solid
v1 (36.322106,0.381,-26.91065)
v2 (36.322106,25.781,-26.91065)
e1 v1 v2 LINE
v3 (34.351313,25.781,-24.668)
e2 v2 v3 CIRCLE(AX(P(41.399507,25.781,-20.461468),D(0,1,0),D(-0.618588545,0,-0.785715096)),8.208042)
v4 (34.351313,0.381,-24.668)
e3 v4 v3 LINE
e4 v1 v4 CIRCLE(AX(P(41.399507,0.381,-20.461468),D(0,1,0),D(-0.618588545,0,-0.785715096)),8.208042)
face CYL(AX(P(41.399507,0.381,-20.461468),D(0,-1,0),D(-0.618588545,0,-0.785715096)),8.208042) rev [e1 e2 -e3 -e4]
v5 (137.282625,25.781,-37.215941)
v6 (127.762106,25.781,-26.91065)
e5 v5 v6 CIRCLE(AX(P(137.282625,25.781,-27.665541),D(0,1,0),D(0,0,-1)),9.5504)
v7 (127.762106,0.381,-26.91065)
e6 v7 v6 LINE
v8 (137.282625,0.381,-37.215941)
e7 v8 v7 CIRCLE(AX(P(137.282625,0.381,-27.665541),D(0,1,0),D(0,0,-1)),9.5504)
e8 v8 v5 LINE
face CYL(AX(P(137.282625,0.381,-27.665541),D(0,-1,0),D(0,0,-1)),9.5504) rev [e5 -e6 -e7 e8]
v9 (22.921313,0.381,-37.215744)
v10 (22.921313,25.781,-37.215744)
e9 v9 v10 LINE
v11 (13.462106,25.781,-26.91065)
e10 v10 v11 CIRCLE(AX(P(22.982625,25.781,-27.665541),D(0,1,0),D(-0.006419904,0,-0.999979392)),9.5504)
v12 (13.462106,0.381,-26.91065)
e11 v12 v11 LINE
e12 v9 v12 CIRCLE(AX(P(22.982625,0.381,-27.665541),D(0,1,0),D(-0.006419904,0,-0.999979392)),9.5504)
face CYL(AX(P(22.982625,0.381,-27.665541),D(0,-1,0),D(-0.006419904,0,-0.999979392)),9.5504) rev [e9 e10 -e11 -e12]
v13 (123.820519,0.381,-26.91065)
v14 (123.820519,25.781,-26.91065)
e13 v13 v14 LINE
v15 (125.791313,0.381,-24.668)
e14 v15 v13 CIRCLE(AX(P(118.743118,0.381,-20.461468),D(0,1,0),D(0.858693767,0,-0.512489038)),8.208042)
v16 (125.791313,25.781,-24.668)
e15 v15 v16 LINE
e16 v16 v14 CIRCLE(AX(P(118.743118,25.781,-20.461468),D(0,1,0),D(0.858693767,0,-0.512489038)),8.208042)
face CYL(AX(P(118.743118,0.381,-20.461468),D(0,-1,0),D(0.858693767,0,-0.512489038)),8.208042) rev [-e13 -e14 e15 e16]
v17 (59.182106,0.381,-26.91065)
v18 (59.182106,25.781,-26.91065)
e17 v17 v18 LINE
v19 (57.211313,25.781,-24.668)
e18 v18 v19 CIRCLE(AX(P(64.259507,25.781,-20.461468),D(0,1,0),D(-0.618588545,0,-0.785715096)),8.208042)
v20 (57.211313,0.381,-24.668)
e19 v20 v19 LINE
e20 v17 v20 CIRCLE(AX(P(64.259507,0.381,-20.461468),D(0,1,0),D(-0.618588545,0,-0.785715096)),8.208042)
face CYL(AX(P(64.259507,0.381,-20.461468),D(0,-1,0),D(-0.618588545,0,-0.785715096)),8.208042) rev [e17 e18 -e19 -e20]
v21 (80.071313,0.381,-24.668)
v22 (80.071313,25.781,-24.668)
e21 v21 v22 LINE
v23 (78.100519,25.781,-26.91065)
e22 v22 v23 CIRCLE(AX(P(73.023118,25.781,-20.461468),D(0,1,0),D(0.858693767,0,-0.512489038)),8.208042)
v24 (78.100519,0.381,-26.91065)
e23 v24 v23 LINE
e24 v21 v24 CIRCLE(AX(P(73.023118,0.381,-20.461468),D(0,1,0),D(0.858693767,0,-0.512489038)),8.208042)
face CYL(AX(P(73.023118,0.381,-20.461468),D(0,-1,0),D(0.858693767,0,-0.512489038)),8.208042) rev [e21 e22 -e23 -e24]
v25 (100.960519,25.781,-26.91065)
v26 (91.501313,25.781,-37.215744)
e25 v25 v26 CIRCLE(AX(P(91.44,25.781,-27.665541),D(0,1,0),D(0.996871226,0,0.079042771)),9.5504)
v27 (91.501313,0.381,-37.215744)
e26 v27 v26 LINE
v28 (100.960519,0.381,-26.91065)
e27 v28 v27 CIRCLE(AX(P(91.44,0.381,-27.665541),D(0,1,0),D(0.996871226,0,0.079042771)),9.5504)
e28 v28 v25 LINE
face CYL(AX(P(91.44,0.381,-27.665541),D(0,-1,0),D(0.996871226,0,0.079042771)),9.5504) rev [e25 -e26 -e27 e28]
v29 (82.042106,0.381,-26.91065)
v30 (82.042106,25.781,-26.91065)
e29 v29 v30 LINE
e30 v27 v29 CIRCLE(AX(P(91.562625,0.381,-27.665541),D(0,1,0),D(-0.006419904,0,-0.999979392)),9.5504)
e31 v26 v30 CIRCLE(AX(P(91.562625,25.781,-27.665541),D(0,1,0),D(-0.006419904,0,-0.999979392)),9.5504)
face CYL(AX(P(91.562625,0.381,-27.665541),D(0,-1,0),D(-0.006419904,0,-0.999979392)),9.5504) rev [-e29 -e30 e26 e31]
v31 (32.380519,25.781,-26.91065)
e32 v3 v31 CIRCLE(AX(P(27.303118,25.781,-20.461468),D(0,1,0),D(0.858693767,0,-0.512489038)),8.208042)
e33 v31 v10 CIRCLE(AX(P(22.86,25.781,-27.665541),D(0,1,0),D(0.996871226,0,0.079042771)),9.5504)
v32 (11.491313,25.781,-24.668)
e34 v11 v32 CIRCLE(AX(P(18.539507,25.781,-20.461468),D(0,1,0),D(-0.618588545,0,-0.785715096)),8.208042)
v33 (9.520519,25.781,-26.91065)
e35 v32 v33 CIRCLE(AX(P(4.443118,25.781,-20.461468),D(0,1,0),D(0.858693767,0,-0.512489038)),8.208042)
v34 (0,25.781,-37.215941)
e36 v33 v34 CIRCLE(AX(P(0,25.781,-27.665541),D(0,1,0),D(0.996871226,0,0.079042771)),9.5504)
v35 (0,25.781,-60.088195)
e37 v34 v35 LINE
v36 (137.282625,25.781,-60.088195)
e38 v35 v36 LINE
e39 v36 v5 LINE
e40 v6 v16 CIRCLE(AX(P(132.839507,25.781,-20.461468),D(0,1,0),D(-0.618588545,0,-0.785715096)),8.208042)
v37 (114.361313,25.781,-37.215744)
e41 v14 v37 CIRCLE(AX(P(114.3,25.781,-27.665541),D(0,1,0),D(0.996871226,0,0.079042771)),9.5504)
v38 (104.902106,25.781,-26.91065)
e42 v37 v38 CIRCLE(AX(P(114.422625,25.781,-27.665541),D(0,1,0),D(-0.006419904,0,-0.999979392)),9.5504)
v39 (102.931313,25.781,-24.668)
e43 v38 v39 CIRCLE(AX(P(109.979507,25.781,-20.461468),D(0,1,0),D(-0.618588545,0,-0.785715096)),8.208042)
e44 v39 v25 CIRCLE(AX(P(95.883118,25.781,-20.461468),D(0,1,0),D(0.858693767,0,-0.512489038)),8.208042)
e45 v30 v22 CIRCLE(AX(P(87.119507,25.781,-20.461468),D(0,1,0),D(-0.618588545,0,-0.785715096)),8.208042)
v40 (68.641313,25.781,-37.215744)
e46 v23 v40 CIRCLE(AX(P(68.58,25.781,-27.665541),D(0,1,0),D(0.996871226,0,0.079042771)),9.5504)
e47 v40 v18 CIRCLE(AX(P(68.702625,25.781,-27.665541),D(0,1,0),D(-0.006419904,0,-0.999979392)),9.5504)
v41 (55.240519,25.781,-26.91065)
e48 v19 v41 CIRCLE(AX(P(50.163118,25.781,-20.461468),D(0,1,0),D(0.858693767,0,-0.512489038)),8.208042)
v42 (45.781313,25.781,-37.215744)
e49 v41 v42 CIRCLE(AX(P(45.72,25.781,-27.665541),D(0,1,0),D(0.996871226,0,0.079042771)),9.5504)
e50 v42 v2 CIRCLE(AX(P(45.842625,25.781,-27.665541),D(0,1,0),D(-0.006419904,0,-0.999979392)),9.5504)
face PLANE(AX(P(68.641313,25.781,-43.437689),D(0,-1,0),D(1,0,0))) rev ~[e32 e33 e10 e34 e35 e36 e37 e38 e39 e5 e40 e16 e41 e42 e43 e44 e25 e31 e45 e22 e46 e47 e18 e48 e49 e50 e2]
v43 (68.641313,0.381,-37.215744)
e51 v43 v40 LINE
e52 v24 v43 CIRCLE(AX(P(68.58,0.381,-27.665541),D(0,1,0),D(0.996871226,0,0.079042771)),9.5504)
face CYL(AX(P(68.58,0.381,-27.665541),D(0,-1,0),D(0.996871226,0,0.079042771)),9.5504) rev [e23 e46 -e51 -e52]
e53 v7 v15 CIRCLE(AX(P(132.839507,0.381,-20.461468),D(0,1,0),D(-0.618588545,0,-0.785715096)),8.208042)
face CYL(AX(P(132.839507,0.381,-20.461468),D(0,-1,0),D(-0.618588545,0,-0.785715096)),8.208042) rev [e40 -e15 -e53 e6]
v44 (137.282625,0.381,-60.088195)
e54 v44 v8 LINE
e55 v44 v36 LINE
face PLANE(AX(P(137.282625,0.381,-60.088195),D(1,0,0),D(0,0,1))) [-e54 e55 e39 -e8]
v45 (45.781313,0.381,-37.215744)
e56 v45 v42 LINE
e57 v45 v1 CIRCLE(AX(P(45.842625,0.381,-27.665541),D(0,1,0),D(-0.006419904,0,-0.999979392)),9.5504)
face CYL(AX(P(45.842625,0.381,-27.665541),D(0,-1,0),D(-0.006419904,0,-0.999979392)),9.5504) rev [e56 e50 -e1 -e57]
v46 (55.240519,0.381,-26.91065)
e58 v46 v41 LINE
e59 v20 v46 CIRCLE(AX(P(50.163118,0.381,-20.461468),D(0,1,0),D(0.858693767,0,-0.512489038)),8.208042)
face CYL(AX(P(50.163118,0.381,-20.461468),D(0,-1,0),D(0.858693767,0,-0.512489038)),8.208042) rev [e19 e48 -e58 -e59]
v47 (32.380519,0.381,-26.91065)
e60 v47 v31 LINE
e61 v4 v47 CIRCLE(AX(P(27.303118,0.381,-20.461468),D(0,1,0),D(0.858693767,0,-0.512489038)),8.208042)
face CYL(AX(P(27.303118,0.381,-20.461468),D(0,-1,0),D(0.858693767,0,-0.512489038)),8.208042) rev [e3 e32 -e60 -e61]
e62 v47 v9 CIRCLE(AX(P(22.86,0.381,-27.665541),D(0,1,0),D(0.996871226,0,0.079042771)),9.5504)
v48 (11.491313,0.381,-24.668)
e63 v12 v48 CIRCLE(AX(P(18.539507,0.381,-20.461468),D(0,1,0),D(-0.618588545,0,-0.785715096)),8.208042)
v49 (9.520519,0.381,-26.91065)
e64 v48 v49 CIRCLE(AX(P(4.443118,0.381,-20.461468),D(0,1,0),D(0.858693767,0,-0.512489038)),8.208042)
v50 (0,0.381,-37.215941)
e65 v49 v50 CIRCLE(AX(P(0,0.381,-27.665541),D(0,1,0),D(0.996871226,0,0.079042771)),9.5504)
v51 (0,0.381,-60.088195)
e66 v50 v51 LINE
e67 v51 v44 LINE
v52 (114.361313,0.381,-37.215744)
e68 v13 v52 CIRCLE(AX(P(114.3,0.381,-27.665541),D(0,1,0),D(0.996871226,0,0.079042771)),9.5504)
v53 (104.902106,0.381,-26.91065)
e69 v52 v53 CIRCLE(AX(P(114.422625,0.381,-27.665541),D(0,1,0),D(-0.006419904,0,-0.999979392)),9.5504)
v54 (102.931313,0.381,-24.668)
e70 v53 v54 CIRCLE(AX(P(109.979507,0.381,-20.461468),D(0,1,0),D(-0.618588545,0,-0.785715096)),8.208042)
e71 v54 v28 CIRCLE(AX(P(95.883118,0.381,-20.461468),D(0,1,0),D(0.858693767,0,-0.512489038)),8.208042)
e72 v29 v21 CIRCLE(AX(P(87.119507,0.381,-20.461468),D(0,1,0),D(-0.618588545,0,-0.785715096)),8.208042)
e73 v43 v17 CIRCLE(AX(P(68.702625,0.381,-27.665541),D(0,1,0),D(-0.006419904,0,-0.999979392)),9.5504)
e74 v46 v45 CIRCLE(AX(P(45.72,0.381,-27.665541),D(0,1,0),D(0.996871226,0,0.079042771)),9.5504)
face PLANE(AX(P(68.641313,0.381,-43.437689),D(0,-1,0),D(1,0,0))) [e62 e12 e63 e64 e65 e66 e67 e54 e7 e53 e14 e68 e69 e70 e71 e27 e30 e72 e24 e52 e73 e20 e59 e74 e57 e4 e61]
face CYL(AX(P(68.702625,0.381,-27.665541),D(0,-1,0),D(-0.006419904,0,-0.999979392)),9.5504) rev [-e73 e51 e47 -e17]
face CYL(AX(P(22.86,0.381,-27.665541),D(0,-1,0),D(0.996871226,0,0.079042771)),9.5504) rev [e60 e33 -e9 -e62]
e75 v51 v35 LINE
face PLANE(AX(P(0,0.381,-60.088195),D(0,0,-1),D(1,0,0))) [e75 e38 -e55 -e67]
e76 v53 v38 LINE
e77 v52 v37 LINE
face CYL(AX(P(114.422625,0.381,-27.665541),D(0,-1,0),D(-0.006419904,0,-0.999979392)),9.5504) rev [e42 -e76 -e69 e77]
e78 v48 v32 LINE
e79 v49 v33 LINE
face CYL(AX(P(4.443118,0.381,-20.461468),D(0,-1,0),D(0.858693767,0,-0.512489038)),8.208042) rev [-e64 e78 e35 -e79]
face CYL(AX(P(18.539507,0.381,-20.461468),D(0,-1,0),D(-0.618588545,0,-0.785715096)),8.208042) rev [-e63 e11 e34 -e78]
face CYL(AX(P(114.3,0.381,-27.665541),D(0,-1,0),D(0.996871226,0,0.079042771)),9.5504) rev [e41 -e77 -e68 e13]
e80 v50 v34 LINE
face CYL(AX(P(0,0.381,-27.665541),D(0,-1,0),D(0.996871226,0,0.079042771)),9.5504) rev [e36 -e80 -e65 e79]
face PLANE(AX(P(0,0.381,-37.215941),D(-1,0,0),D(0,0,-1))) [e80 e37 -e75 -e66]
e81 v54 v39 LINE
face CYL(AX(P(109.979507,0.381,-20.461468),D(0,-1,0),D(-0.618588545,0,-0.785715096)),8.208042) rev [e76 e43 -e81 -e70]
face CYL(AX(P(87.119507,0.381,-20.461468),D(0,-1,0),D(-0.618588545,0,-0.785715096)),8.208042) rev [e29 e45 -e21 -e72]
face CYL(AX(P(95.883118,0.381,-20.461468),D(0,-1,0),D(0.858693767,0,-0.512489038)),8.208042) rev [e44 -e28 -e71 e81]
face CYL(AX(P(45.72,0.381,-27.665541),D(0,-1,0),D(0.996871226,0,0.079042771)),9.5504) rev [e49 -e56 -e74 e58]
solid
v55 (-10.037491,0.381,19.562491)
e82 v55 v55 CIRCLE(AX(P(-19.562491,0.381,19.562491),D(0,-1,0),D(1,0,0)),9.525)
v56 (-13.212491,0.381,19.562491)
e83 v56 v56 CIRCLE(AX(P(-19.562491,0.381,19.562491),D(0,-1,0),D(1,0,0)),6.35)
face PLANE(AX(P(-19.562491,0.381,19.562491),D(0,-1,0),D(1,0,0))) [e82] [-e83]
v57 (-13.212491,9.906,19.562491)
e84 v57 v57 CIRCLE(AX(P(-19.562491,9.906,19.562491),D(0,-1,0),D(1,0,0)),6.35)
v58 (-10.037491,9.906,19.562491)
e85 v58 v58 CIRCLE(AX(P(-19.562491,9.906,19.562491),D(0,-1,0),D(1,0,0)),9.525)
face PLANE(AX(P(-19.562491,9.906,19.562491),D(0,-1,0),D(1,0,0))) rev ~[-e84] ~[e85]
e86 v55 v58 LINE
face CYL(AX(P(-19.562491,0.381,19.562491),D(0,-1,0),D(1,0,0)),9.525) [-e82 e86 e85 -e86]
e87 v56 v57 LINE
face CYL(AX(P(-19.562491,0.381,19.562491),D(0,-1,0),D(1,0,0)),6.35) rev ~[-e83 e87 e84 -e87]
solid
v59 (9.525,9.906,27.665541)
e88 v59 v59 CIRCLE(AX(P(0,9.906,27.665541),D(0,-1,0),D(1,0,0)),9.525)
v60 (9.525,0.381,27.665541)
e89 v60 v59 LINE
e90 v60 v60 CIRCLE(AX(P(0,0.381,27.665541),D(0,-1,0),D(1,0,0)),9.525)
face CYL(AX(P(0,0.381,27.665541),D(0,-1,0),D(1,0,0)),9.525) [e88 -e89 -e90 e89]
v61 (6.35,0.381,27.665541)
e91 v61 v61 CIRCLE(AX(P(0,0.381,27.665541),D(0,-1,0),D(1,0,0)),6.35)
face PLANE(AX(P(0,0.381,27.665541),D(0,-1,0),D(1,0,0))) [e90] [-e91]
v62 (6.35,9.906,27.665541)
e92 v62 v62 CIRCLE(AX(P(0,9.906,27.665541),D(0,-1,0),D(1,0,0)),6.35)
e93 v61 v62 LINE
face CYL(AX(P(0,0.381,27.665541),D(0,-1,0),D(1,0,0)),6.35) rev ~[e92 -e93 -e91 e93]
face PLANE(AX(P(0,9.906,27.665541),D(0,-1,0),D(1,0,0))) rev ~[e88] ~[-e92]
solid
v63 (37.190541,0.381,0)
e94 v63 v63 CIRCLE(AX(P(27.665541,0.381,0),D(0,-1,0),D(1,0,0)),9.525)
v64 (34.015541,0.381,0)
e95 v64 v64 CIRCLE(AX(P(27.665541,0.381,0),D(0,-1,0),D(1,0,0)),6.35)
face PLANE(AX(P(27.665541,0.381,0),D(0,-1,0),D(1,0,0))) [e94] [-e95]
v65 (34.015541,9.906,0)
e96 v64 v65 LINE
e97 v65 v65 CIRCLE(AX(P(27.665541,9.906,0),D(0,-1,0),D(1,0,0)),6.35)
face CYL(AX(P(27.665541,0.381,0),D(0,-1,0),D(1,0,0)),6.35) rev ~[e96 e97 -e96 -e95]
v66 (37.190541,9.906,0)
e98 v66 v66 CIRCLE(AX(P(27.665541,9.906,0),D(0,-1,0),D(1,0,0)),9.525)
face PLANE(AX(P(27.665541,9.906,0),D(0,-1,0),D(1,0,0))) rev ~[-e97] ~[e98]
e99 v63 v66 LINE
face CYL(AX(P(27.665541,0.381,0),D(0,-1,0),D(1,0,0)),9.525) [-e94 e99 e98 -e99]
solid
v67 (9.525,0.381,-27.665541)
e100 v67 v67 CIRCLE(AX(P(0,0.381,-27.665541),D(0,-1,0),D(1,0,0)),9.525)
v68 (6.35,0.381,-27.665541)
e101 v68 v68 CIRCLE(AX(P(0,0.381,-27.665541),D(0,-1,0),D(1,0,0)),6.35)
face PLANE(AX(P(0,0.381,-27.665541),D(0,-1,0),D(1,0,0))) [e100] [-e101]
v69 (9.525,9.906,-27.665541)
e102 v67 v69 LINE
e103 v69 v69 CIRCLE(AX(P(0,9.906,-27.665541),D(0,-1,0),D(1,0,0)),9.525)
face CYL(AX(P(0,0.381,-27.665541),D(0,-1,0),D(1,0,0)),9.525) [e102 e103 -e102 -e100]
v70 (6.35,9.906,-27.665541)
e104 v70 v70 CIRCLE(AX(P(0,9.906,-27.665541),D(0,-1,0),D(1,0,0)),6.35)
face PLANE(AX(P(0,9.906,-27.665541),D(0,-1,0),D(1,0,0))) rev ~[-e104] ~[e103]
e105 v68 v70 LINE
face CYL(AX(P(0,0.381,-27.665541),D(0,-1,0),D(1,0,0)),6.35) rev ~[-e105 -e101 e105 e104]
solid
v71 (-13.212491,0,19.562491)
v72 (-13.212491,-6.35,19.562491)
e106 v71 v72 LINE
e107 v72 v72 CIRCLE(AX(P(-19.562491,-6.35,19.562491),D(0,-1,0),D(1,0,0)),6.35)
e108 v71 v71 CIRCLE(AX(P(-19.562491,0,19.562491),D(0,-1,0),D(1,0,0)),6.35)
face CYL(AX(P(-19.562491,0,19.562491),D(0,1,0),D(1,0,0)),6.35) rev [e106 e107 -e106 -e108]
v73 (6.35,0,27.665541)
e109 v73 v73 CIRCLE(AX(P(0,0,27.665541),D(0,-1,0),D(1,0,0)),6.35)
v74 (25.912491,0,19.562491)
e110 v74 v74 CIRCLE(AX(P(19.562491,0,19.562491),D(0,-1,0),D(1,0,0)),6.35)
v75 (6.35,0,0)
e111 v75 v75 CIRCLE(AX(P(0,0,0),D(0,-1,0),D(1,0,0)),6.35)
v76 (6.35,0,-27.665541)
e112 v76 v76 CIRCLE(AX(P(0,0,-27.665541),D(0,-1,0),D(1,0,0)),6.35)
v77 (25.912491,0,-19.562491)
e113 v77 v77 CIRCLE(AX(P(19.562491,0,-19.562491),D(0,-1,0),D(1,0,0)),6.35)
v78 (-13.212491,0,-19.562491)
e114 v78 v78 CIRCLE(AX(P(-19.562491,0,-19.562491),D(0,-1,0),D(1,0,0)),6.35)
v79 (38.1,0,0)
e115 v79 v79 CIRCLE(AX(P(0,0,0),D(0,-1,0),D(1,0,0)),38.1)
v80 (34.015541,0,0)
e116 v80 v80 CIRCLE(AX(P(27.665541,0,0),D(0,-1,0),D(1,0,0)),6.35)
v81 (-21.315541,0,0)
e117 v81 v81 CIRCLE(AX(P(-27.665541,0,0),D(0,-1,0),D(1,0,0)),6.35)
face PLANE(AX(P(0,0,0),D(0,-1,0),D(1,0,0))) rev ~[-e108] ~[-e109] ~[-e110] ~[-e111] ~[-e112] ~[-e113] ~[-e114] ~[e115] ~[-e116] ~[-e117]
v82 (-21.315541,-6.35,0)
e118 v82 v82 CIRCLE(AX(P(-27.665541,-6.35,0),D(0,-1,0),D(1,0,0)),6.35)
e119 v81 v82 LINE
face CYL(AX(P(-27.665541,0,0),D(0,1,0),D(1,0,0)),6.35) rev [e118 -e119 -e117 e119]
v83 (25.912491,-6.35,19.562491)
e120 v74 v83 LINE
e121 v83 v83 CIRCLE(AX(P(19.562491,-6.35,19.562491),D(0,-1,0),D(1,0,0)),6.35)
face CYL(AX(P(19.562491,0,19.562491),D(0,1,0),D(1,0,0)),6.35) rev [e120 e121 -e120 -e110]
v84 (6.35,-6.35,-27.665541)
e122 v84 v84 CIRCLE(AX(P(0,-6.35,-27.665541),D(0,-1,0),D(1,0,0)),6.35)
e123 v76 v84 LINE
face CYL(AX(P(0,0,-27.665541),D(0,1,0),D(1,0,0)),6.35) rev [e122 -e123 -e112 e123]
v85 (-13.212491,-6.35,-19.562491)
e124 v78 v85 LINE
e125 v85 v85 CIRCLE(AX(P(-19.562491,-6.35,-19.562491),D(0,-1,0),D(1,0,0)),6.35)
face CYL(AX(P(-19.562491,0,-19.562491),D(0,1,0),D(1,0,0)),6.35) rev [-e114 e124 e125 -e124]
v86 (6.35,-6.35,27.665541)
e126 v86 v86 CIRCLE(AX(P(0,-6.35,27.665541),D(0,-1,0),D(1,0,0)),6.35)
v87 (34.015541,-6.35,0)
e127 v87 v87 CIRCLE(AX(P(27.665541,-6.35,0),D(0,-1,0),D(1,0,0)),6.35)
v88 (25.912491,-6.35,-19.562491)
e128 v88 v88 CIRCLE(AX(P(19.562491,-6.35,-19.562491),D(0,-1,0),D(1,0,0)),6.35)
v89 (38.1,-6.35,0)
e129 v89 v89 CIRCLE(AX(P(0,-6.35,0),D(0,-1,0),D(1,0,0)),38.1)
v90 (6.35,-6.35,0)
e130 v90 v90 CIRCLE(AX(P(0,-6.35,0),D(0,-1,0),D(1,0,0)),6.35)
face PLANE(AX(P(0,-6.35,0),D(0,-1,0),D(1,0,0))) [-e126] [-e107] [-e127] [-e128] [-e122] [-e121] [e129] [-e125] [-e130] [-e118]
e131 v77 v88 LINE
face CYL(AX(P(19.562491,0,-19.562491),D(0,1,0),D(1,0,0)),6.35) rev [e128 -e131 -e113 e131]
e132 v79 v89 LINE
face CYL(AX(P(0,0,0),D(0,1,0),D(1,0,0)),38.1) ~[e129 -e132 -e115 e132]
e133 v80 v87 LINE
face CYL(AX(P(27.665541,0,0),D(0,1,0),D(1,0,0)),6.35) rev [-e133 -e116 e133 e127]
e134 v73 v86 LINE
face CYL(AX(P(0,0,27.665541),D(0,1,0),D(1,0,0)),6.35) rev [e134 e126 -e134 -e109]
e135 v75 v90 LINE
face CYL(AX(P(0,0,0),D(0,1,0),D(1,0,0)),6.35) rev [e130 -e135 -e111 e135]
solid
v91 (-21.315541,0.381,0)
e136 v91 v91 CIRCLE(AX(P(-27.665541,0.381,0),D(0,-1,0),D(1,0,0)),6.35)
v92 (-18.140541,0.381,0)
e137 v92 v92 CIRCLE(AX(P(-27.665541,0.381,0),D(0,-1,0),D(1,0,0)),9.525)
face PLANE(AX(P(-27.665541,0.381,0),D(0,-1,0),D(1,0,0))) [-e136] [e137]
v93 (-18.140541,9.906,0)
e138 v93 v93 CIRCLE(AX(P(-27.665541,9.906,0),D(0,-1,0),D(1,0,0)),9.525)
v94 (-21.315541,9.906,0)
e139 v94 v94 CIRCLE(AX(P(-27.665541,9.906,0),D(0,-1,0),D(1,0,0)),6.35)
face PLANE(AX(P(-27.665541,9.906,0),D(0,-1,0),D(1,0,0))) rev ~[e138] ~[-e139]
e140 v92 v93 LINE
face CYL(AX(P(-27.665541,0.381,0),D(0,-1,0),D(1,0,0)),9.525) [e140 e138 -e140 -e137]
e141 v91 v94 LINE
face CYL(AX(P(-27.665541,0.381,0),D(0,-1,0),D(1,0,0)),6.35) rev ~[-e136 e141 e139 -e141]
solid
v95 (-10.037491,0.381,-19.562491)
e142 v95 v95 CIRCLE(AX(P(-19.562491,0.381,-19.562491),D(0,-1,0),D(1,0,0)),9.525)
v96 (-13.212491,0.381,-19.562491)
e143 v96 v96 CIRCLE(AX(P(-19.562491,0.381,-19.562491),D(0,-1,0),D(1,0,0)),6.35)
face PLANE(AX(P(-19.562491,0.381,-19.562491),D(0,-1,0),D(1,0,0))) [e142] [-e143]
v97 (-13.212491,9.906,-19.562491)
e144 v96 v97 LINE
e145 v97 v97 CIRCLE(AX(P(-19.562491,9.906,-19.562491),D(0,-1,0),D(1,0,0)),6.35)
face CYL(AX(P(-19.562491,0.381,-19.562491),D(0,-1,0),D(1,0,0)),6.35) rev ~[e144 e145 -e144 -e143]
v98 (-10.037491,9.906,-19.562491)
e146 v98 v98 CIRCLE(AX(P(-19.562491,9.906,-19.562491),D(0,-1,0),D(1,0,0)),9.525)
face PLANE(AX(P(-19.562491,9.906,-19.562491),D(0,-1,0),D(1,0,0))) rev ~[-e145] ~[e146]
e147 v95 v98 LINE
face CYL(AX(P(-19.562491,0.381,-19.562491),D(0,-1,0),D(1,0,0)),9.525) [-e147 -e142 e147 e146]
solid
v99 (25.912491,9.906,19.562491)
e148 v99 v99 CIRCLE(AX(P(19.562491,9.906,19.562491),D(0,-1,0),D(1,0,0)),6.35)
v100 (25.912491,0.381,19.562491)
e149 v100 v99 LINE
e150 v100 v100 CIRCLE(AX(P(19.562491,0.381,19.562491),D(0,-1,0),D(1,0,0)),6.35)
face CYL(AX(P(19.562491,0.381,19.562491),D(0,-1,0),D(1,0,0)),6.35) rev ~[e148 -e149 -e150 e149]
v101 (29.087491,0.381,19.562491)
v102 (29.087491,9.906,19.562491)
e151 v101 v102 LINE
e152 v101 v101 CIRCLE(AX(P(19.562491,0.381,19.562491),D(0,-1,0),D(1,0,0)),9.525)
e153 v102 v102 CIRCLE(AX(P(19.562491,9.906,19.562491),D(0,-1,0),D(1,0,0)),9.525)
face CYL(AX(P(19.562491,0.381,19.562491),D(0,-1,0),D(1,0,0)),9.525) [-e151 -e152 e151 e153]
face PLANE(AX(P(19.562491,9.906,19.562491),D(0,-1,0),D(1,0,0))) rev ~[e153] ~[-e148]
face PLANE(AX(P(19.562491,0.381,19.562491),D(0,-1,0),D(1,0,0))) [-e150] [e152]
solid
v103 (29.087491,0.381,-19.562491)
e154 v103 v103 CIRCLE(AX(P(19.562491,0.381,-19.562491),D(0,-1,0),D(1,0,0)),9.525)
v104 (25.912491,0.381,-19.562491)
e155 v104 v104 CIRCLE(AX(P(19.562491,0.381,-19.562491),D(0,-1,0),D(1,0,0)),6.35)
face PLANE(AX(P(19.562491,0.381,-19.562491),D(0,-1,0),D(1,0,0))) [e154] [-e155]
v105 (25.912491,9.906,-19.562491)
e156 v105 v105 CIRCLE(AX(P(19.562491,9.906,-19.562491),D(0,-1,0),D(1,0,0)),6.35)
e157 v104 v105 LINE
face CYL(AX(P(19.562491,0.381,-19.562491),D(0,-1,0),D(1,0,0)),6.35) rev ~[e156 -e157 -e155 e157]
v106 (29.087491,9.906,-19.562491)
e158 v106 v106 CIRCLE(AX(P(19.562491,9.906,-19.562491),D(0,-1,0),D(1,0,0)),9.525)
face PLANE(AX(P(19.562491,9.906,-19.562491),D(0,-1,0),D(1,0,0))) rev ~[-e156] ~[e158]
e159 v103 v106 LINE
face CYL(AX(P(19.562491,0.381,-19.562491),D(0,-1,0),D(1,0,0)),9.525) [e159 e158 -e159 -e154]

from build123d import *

# Parameters (mm, degrees)
F0_R     = 38.1
F0_R_2   = 6.35
F1_DEPTH = 6.35
F3_R     = 9.525
F3_R_2   = 6.35
F4_DEPTH = 9.525
F6_DEPTH = 25.4


with BuildPart() as f1:
    # F0 (on Front) → F1 (new body)
    with BuildSketch(Plane.XZ):
        Circle(F0_R)
        with Locations((-19.5624913465, -19.5624913465)):
            Circle(F0_R_2, mode=Mode.SUBTRACT)
        with Locations((0, -27.665540576)):
            Circle(F0_R_2, mode=Mode.SUBTRACT)
        with Locations((19.5624913465, -19.5624913465)):
            Circle(F0_R_2, mode=Mode.SUBTRACT)
        with Locations((-27.665540576, 0)):
            Circle(F0_R_2, mode=Mode.SUBTRACT)
        with Locations((-19.5624913465, 19.5624913465)):
            Circle(F0_R_2, mode=Mode.SUBTRACT)
        Circle(F0_R_2, mode=Mode.SUBTRACT)
        with Locations((27.665540576, 0)):
            Circle(F0_R_2, mode=Mode.SUBTRACT)
        with Locations((0, 27.665540576)):
            Circle(F0_R_2, mode=Mode.SUBTRACT)
        with Locations((19.5624913465, 19.5624913465)):
            Circle(F0_R_2, mode=Mode.SUBTRACT)
    extrude(amount=F1_DEPTH)


with BuildPart() as f4:
    # F3 (on offset) → F4 (new body)
    with BuildSketch(Plane.XZ.offset(-0.381)):
        with Locations((0, -27.665540576)):
            Circle(F3_R)
        with Locations((0, -27.665540576)):
            Circle(F3_R_2, mode=Mode.SUBTRACT)
    extrude(amount=-F4_DEPTH)


with BuildPart() as f4b:
    # F3 (on offset) → F4, piece 2 (new body)
    with BuildSketch(Plane.XZ.offset(-0.381)):
        with Locations((19.5624913465, -19.5624913465)):
            Circle(F3_R)
        with Locations((19.5624913465, -19.5624913465)):
            Circle(F3_R_2, mode=Mode.SUBTRACT)
    extrude(amount=-F4_DEPTH)


with BuildPart() as f4c:
    # F3 (on offset) → F4, piece 3 (new body)
    with BuildSketch(Plane.XZ.offset(-0.381)):
        with Locations((27.665540576, 0)):
            Circle(F3_R)
        with Locations((27.665540576, 0)):
            Circle(F3_R_2, mode=Mode.SUBTRACT)
    extrude(amount=-F4_DEPTH)


with BuildPart() as f4d:
    # F3 (on offset) → F4, piece 4 (new body)
    with BuildSketch(Plane.XZ.offset(-0.381)):
        with Locations((19.5624913465, 19.5624913465)):
            Circle(F3_R)
        with Locations((19.5624913465, 19.5624913465)):
            Circle(F3_R_2, mode=Mode.SUBTRACT)
    extrude(amount=-F4_DEPTH)


with BuildPart() as f4e:
    # F3 (on offset) → F4, piece 5 (new body)
    with BuildSketch(Plane.XZ.offset(-0.381)):
        with Locations((0, 27.665540576)):
            Circle(F3_R)
        with Locations((0, 27.665540576)):
            Circle(F3_R_2, mode=Mode.SUBTRACT)
    extrude(amount=-F4_DEPTH)


with BuildPart() as f4f:
    # F3 (on offset) → F4, piece 6 (new body)
    with BuildSketch(Plane.XZ.offset(-0.381)):
        with Locations((-19.5624913465, 19.5624913465)):
            Circle(F3_R)
        with Locations((-19.5624913465, 19.5624913465)):
            Circle(F3_R_2, mode=Mode.SUBTRACT)
    extrude(amount=-F4_DEPTH)


with BuildPart() as f4g:
    # F3 (on offset) → F4, piece 7 (new body)
    with BuildSketch(Plane.XZ.offset(-0.381)):
        with Locations((-27.665540576, 0)):
            Circle(F3_R)
        with Locations((-27.665540576, 0)):
            Circle(F3_R_2, mode=Mode.SUBTRACT)
    extrude(amount=-F4_DEPTH)


with BuildPart() as f4h:
    # F3 (on offset) → F4, piece 8 (new body)
    with BuildSketch(Plane.XZ.offset(-0.381)):
        with Locations((-19.5624913465, -19.5624913465)):
            Circle(F3_R)
        with Locations((-19.5624913465, -19.5624913465)):
            Circle(F3_R_2, mode=Mode.SUBTRACT)
    extrude(amount=-F4_DEPTH)


with BuildPart() as f6:
    # F5 (on offset) → F6 (new body)
    with BuildSketch(Plane.XZ.offset(-0.381)):
        with BuildLine():
            ThreePointArc((22.9213126466, -37.2157437633), (15.9468871662, -34.1237546608), (13.4621063405, -26.9106504995))
            ThreePointArc((13.4621063405, -26.9106504995), (12.3738858329, -25.8796842874), (11.4913126467, -24.6679996029))
            ThreePointArc((11.4913126467, -24.6679996029), (10.6087394605, -25.8796842874), (9.5205189529, -26.9106504995))
            ThreePointArc((9.5205189529, -26.9106504995), (7.0149712168, -34.1463058847), (0, -37.215940576))
            Line((0, -37.215940576), (0, -60.0881949067))
            Line((0, -60.0881949067), (137.2826252934, -60.0881949067))
            Line((137.2826252934, -60.0881949067), (137.2826252934, -37.215940576))
            ThreePointArc((137.2826252934, -37.215940576), (130.2676540765, -34.1463058847), (127.7621063405, -26.9106504995))
            ThreePointArc((127.7621063405, -26.9106504995), (126.6738858329, -25.8796842874), (125.7913126467, -24.6679996029))
            ThreePointArc((125.7913126467, -24.6679996029), (124.9087394605, -25.8796842874), (123.8205189529, -26.9106504995))
            ThreePointArc((123.8205189529, -26.9106504995), (121.3357381272, -34.1237546608), (114.3613126466, -37.2157437633))
            ThreePointArc((114.3613126466, -37.2157437633), (107.3868871662, -34.1237546608), (104.9021063405, -26.9106504995))
            ThreePointArc((104.9021063405, -26.9106504995), (103.8138858329, -25.8796842874), (102.9313126467, -24.6679996029))
            ThreePointArc((102.9313126467, -24.6679996029), (102.0487394605, -25.8796842874), (100.9605189529, -26.9106504995))
            ThreePointArc((100.9605189529, -26.9106504995), (98.4757381272, -34.1237546608), (91.5013126466, -37.2157437633))
            ThreePointArc((91.5013126466, -37.2157437633), (84.5268871662, -34.1237546608), (82.0421063405, -26.9106504995))
            ThreePointArc((82.0421063405, -26.9106504995), (80.9538858329, -25.8796842874), (80.0713126467, -24.6679996029))
            ThreePointArc((80.0713126467, -24.6679996029), (79.1887394605, -25.8796842874), (78.1005189529, -26.9106504995))
            ThreePointArc((78.1005189529, -26.9106504995), (75.6157381272, -34.1237546608), (68.6413126466, -37.2157437633))
            ThreePointArc((68.6413126466, -37.2157437633), (61.6668871662, -34.1237546608), (59.1821063405, -26.9106504995))
            ThreePointArc((59.1821063405, -26.9106504995), (58.0938858329, -25.8796842874), (57.2113126467, -24.6679996029))
            ThreePointArc((57.2113126467, -24.6679996029), (56.3287394605, -25.8796842874), (55.2405189529, -26.9106504995))
            ThreePointArc((55.2405189529, -26.9106504995), (52.7557381272, -34.1237546608), (45.7813126466, -37.2157437633))
            ThreePointArc((45.7813126466, -37.2157437633), (38.8068871662, -34.1237546608), (36.3221063405, -26.9106504995))
            ThreePointArc((36.3221063405, -26.9106504995), (35.2338858329, -25.8796842874), (34.3513126467, -24.6679996029))
            ThreePointArc((34.3513126467, -24.6679996029), (33.4687394605, -25.8796842874), (32.3805189529, -26.9106504995))
            ThreePointArc((32.3805189529, -26.9106504995), (29.8957381272, -34.1237546608), (22.9213126466, -37.2157437633))
        make_face()
    extrude(amount=-F6_DEPTH)


solid = Compound([f1.part, f4.part, f4b.part, f4c.part, f4d.part, f4e.part, f4f.part, f4g.part, f4h.part, f6.part])
